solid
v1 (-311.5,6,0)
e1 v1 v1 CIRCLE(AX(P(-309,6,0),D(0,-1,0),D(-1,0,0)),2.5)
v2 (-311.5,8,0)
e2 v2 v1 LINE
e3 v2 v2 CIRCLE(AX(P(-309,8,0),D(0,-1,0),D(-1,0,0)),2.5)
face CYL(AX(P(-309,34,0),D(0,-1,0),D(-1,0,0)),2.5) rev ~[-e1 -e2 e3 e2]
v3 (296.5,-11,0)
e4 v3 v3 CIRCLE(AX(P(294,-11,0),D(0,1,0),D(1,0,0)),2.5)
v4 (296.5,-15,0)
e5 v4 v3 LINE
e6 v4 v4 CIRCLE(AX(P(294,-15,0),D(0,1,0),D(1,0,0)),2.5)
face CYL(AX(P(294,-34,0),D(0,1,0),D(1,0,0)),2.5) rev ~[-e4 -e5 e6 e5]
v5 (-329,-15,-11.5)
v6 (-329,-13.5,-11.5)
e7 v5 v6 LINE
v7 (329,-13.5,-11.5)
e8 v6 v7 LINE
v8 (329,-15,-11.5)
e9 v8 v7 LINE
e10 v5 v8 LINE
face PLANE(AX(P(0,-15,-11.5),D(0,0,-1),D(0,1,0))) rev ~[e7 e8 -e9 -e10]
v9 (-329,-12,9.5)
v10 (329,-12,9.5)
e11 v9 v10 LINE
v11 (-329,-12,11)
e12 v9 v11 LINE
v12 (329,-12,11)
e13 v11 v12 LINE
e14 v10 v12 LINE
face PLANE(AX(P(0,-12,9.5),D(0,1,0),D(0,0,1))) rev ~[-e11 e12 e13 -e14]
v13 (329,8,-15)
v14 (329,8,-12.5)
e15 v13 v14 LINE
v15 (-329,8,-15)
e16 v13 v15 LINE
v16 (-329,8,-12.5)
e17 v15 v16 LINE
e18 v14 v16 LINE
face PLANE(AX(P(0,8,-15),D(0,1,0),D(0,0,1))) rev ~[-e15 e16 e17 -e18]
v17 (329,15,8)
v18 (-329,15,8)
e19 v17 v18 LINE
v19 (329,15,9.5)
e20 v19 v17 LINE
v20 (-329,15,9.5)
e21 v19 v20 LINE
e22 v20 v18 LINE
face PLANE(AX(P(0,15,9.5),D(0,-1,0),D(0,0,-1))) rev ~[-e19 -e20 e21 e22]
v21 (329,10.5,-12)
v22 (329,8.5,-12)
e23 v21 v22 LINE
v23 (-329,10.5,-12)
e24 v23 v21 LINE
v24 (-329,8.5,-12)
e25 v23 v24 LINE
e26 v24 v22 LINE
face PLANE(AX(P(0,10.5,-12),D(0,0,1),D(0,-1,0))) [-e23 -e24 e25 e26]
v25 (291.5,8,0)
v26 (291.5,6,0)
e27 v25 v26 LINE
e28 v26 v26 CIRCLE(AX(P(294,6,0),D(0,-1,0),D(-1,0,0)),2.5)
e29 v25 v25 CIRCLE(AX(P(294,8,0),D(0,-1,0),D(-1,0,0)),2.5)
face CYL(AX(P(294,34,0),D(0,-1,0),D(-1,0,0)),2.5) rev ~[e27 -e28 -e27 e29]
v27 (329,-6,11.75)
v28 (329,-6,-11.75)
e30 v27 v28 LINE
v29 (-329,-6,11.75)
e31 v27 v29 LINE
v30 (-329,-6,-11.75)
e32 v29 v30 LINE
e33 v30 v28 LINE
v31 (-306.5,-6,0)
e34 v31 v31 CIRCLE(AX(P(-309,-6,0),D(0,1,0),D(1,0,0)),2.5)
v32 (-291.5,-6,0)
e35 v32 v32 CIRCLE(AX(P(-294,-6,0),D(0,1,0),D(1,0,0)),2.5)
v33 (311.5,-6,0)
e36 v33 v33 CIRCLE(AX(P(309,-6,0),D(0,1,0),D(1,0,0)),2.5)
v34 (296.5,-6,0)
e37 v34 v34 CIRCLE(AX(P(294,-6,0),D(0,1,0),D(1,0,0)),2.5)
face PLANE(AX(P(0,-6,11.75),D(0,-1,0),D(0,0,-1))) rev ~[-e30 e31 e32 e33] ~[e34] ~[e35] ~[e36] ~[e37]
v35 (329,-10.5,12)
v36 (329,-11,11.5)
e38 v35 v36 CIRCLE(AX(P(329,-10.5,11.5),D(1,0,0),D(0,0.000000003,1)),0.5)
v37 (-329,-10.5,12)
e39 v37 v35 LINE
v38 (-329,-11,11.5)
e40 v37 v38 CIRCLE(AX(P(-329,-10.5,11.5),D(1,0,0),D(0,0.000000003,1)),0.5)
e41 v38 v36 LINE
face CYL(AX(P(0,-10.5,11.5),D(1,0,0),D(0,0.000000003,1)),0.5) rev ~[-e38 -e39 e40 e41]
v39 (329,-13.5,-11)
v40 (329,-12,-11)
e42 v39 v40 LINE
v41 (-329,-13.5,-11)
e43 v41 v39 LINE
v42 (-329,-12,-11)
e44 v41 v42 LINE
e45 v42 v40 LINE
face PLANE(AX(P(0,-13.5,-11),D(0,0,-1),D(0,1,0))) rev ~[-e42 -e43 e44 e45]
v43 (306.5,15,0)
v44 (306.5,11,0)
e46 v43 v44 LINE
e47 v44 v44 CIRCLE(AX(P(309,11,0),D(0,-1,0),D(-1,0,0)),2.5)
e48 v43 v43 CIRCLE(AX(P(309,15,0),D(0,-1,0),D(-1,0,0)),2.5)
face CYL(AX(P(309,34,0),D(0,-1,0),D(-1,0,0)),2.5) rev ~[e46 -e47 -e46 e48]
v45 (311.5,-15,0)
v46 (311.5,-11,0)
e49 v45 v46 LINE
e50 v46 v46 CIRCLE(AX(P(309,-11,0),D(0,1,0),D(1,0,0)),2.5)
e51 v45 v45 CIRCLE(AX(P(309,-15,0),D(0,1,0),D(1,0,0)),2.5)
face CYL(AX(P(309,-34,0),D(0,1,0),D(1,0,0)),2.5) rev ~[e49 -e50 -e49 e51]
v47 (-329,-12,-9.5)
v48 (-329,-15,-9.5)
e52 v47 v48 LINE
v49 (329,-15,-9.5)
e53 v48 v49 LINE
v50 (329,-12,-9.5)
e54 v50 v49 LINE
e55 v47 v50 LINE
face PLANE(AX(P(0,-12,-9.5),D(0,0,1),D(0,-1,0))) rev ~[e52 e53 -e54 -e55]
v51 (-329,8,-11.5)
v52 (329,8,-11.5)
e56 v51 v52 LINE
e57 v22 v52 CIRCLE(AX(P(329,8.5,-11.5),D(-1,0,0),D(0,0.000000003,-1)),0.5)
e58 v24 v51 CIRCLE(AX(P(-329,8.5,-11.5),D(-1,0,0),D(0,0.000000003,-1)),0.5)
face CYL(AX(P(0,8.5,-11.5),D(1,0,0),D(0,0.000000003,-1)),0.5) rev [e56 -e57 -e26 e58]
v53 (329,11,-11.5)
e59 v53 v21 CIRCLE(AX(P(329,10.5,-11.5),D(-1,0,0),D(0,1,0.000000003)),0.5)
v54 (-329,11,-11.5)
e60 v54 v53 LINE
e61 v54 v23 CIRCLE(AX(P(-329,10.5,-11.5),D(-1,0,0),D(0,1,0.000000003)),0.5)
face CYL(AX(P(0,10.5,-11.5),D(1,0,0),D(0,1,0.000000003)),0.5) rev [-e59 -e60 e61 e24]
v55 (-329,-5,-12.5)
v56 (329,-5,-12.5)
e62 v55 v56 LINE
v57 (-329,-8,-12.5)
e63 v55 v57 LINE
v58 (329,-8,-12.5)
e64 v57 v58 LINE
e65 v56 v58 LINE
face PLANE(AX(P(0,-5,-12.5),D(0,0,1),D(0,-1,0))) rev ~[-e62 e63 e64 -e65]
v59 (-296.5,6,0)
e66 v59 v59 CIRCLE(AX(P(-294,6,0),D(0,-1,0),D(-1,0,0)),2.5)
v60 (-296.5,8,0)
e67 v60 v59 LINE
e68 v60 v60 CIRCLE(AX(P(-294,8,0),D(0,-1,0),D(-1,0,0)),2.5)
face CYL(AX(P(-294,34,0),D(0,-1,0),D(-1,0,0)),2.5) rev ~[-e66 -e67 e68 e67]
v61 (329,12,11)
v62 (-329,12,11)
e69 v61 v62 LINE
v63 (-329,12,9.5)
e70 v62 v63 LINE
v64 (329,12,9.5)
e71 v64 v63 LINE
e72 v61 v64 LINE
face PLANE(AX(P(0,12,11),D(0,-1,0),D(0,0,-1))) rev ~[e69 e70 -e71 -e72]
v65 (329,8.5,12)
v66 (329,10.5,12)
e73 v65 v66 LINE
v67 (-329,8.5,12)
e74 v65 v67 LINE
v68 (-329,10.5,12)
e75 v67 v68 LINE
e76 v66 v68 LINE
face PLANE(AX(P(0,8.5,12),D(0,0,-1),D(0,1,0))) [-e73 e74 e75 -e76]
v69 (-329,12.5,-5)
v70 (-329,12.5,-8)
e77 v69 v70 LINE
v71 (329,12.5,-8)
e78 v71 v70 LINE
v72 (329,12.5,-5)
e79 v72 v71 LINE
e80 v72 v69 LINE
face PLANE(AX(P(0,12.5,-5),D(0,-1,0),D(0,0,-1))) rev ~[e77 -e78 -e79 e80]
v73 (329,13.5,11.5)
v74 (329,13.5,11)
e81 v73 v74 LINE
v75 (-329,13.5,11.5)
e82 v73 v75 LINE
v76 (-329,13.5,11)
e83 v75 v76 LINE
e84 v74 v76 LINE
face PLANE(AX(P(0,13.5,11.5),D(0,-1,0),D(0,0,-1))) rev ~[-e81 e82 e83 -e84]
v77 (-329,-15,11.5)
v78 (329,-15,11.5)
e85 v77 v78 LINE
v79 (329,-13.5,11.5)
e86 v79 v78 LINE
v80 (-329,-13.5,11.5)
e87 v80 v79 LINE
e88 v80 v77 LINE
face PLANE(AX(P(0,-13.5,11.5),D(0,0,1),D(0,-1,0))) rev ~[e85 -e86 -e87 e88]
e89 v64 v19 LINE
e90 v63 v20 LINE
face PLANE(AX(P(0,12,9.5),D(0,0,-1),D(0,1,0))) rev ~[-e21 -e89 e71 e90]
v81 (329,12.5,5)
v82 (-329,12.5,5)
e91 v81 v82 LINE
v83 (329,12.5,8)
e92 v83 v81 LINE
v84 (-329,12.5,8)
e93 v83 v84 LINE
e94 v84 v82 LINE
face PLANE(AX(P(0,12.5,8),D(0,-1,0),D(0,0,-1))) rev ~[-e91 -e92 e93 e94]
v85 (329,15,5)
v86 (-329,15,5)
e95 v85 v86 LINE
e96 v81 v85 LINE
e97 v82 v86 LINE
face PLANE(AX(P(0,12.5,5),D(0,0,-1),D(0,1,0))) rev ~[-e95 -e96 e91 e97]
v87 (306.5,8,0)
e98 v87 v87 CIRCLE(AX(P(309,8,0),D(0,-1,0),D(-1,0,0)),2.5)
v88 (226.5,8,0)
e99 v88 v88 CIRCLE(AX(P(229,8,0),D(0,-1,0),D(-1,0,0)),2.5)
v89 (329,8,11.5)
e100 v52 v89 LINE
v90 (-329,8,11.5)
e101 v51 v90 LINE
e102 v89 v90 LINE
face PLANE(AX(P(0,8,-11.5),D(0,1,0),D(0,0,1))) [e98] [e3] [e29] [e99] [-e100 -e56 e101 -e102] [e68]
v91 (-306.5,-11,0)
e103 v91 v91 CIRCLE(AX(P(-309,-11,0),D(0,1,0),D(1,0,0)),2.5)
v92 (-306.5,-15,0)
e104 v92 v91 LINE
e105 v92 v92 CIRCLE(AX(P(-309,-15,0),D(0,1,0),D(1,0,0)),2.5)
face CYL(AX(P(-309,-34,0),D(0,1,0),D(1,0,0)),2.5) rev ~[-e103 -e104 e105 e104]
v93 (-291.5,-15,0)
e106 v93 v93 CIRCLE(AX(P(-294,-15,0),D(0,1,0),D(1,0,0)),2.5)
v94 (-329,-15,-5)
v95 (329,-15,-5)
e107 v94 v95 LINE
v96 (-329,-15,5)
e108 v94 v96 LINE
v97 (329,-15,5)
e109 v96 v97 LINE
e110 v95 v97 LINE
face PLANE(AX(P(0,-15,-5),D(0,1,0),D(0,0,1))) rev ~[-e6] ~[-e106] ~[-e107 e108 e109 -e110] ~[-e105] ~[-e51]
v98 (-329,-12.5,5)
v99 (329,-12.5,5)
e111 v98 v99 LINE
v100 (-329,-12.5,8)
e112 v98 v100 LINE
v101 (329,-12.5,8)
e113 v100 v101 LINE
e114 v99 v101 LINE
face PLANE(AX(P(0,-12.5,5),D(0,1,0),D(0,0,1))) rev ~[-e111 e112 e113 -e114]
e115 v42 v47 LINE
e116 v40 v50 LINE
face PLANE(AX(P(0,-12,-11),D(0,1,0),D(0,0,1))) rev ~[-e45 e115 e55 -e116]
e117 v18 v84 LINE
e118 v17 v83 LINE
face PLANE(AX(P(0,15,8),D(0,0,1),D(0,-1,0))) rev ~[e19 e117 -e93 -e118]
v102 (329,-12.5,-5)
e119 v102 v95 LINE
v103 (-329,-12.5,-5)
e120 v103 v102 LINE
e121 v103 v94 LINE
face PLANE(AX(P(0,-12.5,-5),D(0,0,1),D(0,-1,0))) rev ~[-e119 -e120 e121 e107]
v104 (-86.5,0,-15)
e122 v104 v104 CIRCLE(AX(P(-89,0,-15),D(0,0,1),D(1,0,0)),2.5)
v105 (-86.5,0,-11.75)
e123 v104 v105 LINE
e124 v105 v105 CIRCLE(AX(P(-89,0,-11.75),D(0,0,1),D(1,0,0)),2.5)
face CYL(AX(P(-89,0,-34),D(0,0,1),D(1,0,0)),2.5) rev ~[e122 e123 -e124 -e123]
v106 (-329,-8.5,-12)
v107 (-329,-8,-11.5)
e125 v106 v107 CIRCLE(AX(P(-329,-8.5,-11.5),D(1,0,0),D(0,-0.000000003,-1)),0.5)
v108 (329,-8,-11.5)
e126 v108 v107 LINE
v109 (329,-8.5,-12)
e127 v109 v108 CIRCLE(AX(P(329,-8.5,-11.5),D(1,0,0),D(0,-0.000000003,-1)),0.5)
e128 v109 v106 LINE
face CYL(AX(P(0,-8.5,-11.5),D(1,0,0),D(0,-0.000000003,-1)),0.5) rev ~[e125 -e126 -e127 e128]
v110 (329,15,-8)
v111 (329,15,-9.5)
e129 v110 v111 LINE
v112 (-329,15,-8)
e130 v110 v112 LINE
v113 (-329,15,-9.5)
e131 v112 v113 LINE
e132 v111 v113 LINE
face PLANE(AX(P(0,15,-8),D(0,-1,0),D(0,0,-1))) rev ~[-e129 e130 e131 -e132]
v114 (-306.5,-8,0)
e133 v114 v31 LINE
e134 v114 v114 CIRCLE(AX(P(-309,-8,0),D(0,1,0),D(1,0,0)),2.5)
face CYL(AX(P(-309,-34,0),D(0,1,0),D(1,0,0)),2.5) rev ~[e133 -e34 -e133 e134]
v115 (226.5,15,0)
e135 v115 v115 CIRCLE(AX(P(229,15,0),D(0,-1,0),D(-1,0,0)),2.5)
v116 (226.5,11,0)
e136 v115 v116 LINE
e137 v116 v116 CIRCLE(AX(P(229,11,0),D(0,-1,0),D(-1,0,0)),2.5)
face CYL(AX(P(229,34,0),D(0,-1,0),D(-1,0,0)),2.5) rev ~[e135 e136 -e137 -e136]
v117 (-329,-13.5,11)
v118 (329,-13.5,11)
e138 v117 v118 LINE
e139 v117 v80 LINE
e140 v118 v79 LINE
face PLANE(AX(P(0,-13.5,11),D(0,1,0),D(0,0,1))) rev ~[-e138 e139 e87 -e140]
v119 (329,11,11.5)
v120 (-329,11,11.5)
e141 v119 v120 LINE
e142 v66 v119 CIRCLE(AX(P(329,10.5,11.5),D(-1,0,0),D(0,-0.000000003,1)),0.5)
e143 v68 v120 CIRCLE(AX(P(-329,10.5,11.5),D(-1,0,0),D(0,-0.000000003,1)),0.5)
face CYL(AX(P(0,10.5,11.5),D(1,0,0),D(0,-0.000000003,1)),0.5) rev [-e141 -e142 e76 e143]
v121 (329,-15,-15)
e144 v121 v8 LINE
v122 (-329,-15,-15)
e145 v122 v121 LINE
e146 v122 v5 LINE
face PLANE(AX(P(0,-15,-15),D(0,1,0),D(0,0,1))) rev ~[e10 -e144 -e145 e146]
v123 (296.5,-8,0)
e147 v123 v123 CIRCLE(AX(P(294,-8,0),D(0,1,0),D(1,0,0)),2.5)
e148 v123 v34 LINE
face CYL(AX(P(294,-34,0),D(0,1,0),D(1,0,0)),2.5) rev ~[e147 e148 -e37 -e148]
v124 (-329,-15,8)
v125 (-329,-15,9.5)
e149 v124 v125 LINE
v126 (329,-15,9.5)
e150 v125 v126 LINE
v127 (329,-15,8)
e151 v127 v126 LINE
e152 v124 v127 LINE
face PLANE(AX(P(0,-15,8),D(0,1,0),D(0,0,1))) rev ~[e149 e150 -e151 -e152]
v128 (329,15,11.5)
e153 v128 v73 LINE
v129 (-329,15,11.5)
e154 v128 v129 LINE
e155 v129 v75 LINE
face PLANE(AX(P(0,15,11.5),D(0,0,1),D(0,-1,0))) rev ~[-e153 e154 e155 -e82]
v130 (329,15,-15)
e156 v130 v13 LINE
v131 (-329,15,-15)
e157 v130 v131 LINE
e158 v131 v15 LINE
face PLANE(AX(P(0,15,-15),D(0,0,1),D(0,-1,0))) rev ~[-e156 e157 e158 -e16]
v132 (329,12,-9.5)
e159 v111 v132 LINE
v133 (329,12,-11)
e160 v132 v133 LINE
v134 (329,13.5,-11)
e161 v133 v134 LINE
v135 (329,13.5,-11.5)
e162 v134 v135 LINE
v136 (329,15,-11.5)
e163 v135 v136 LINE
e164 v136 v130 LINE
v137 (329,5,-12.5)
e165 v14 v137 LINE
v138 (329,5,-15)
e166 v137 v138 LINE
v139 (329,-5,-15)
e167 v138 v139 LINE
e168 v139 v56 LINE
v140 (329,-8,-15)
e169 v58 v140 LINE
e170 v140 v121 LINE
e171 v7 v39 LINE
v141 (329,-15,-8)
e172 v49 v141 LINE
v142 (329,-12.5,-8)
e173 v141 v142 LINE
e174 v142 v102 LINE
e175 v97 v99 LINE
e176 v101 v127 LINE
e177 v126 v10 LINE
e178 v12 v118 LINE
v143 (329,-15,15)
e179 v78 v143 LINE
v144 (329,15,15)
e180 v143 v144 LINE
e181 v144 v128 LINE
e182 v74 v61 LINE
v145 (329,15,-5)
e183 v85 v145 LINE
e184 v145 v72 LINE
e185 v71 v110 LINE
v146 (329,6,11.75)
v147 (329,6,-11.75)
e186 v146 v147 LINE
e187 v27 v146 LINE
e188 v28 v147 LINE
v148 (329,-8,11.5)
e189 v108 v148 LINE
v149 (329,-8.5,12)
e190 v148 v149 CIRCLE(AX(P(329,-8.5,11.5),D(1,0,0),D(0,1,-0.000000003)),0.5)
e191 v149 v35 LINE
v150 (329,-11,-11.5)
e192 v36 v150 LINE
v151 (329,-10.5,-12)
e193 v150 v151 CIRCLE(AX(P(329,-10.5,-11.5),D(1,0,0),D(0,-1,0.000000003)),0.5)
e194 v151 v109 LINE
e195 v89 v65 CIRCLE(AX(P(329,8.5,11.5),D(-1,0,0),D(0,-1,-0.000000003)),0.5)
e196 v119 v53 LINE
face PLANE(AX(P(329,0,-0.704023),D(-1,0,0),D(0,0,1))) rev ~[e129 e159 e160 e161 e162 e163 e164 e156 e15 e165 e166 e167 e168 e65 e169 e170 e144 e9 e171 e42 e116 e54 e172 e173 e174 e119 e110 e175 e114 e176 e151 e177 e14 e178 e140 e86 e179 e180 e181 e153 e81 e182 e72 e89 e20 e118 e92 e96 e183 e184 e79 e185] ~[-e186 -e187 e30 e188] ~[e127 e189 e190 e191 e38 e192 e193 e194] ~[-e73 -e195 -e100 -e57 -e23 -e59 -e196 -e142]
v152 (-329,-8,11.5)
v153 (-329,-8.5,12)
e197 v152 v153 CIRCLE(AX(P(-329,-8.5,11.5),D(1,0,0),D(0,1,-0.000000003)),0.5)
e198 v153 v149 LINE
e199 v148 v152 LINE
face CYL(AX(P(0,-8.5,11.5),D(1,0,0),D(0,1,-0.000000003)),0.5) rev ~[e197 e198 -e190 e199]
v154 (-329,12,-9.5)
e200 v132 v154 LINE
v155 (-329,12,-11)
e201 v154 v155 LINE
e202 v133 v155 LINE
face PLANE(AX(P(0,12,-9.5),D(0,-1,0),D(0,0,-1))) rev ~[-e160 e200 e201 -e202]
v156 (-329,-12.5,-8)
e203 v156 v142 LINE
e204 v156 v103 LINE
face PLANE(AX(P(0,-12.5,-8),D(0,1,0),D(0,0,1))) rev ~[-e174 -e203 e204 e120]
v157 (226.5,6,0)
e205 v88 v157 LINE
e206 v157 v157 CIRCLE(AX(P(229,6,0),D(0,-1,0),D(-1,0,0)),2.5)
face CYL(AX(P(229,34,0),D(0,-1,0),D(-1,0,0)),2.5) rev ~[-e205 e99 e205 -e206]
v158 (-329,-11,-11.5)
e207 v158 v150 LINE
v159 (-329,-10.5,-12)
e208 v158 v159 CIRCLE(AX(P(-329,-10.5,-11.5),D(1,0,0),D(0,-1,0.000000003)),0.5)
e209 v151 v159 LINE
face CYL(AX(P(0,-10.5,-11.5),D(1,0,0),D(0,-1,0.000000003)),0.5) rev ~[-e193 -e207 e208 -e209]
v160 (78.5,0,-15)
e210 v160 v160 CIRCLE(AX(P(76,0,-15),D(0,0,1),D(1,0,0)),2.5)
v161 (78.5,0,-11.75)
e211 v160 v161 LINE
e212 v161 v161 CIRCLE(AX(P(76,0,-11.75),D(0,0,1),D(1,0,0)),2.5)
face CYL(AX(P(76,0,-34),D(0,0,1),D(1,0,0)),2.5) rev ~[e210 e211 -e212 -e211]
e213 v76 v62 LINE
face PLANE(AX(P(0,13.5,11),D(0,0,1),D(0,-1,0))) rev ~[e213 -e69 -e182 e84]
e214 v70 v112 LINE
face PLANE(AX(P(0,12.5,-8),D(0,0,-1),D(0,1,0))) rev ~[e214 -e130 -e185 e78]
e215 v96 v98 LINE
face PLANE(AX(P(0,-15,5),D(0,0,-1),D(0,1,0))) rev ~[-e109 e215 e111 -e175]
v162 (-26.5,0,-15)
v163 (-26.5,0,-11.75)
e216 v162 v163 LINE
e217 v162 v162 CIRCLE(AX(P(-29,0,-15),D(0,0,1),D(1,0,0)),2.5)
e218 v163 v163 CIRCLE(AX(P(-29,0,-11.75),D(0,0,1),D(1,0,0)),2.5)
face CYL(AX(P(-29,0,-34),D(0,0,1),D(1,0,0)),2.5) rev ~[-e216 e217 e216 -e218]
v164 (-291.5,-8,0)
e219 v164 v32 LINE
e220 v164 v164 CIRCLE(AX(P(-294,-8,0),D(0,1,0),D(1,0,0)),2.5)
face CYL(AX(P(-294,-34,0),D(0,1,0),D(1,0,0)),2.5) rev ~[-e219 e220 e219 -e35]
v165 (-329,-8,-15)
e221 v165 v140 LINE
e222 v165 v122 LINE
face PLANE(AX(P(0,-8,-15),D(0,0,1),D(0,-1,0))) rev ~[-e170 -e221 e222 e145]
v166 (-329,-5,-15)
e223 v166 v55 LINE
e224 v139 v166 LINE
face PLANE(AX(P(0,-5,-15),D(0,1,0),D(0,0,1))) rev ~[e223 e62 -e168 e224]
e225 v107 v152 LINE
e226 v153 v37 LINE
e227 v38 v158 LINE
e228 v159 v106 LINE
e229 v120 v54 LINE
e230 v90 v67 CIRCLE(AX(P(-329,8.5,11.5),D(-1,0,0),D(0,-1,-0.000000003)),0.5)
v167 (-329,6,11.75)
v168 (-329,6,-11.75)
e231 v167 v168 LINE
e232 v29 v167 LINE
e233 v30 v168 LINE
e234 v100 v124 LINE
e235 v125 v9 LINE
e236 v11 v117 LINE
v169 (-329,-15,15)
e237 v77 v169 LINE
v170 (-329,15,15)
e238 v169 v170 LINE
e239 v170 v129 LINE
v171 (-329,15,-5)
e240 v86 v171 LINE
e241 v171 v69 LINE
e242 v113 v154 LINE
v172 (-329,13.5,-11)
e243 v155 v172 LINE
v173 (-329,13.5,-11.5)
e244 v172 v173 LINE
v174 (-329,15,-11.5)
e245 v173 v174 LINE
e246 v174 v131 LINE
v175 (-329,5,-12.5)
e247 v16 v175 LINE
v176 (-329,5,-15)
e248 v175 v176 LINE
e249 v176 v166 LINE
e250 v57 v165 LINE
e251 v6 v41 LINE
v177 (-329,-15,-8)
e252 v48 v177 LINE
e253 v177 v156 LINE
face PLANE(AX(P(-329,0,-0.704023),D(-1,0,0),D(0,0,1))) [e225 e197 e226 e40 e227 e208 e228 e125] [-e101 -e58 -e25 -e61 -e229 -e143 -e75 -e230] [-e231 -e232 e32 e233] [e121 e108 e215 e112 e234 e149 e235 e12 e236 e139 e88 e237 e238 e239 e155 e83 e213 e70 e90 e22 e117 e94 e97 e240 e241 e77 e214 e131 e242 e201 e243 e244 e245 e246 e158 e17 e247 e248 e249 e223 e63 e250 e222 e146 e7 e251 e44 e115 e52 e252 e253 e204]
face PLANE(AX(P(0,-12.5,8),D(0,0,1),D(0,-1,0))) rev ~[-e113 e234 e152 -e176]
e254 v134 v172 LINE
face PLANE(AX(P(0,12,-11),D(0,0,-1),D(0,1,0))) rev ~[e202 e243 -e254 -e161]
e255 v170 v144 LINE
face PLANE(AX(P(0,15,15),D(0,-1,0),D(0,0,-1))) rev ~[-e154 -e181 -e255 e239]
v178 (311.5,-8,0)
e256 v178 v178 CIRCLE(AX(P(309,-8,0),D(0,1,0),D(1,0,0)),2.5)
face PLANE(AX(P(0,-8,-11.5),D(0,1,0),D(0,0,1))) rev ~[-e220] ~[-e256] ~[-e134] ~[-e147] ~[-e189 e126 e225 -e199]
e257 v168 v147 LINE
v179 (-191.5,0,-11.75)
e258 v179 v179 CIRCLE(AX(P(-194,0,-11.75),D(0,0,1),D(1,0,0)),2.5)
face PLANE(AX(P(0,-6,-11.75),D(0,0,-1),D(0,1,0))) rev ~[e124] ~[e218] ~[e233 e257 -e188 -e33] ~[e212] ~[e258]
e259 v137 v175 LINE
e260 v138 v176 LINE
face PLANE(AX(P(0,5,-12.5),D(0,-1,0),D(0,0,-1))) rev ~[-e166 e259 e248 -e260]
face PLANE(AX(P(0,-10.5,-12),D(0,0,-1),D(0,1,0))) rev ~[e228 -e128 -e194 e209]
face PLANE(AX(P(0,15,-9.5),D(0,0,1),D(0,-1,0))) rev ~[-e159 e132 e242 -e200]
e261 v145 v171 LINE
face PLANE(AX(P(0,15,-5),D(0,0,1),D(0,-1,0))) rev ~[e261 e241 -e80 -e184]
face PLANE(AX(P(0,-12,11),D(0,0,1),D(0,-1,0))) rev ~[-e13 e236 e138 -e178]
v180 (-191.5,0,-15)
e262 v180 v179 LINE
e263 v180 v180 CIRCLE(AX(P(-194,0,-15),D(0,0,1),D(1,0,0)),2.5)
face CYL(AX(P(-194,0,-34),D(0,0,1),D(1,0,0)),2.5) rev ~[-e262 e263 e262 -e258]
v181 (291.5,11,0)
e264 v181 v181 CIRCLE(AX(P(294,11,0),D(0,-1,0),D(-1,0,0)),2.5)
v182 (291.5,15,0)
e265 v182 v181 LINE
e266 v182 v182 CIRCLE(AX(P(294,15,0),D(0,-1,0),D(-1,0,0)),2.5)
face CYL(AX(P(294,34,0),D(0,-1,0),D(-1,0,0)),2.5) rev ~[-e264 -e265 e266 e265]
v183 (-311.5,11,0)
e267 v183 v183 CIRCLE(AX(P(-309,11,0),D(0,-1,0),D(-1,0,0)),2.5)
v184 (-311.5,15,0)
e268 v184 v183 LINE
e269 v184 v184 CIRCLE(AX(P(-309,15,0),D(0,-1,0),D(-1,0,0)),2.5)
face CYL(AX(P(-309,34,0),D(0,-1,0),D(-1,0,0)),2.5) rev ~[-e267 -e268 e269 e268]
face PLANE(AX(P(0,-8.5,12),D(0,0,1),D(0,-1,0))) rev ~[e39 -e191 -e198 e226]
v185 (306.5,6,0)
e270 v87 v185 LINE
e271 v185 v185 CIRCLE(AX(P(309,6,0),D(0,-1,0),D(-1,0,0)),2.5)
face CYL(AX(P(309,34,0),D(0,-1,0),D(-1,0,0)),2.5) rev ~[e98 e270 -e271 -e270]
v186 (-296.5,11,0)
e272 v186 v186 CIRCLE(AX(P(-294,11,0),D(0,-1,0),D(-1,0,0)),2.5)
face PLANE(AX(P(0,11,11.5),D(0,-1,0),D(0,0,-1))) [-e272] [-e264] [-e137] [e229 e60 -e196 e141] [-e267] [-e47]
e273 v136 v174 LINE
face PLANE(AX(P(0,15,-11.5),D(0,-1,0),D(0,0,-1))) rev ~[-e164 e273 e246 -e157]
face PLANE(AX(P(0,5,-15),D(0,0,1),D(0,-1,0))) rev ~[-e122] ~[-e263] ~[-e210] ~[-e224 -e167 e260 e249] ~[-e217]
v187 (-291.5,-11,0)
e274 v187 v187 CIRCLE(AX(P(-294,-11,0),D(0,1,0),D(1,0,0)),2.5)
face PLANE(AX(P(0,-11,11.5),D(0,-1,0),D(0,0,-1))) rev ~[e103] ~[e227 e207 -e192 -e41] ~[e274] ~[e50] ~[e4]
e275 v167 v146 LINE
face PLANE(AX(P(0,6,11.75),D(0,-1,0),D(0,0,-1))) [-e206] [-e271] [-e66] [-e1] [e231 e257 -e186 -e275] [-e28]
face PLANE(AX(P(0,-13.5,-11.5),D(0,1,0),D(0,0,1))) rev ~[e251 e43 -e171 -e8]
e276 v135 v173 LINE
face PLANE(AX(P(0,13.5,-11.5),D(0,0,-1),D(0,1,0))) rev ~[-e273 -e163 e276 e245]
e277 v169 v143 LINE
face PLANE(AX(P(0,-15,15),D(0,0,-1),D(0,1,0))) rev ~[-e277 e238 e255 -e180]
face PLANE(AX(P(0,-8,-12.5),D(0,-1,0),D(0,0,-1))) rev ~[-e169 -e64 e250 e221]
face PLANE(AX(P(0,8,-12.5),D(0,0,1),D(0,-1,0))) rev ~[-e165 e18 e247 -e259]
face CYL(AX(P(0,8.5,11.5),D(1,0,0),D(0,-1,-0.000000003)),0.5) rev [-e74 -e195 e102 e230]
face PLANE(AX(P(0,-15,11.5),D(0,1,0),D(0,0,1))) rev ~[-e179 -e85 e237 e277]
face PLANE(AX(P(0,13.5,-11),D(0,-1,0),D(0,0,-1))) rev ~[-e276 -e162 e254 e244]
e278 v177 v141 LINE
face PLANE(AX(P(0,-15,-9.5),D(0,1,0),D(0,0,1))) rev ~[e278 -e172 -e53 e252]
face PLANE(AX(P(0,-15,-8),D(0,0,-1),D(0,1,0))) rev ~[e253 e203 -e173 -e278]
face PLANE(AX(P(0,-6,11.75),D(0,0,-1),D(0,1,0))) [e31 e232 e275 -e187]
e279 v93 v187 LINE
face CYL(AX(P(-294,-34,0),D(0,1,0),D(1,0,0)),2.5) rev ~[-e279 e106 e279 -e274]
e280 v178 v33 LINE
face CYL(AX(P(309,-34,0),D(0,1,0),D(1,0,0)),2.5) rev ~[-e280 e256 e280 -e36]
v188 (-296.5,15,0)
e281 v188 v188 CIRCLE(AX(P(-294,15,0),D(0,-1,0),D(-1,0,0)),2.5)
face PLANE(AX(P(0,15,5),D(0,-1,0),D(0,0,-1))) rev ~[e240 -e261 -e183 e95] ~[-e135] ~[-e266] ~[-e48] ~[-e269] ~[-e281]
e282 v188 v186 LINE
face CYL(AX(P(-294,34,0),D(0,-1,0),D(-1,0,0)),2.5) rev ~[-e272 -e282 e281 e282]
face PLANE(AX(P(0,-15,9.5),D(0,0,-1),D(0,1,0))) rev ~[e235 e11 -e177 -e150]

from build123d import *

# Parameters (mm, degrees)
SKETCH_1_W             = 23.5
SKETCH_1_H             = 12
EXTRUDE_1_DEPTH        = 329
HOLE_WIZARD_M6_1_D     = 5
HOLE_WIZARD_M6_1_DEPTH = 19
HOLE_WIZARD_M6_1_TIP   = 1.502151548
HOLE_WIZARD_M6_2_D     = 5
HOLE_WIZARD_M6_2_DEPTH = 19
HOLE_WIZARD_M6_2_TIP   = 1.502151548
HOLE_WIZARD_M6_3_D     = 5
HOLE_WIZARD_M6_3_DEPTH = 19
HOLE_WIZARD_M6_3_TIP   = 1.502151548


with BuildPart() as part:
    # 草图1 → 凸台-拉伸1 (new, symmetric)
    with BuildSketch(Plane(origin=(0, 0, 0), x_dir=(0, 0, -1), z_dir=(1, 0, 0))):
        Polygon((-15, 15), (-11.5, 15), (-11.5, 13.5), (-11, 13.5), (-11, 12), (-9.5, 12), (-9.5, 15), (-8, 15), (-8, 12.5), (-5, 12.5), (-5, 15), (5, 15), (5, 12.5), (8, 12.5), (8, 15), (9.5, 15), (9.5, 12), (11, 12), (11, 13.5), (11.5, 13.5), (11.5, 15), (15, 15), (15, 8), (12.5, 8), (12.5, 5), (15, 5), (15, -5), (12.5, -5), (12.5, -8), (15, -8), (15, -15), (11.5, -15), (11.5, -13.5), (11, -13.5), (11, -12), (9.5, -12), (9.5, -15), (8, -15), (8, -12.5), (5, -12.5), (5, -15), (-5, -15), (-5, -12.5), (-8, -12.5), (-8, -15), (-9.5, -15), (-9.5, -12), (-11, -12), (-11, -13.5), (-11.5, -13.5), (-11.5, -15), (-15, -15), align=None)
        with BuildLine():
            Line((12, -10.5), (12, -8.5))
            ThreePointArc((12, -8.5), (11.853553391, -8.146446609), (11.5, -8))
            Line((11.5, -8), (-11.5, -8))
            ThreePointArc((-11.5, -8), (-11.853553391, -8.146446609), (-12, -8.5))
            Line((-12, -8.5), (-12, -10.5))
            ThreePointArc((-12, -10.5), (-11.853553391, -10.853553391), (-11.5, -11))
            Line((-11.5, -11), (11.5, -11))
            ThreePointArc((11.5, -11), (11.853553391, -10.853553391), (12, -10.5))
        make_face(mode=Mode.SUBTRACT)
        with BuildLine():
            Line((-11.5, 11), (11.5, 11))
            ThreePointArc((11.5, 11), (11.853553391, 10.853553391), (12, 10.5))
            Line((12, 10.5), (12, 8.5))
            ThreePointArc((12, 8.5), (11.853553391, 8.146446609), (11.5, 8))
            Line((11.5, 8), (-11.5, 8))
            ThreePointArc((-11.5, 8), (-11.853553391, 8.146446609), (-12, 8.5))
            Line((-12, 8.5), (-12, 10.5))
            ThreePointArc((-12, 10.5), (-11.853553391, 10.853553391), (-11.5, 11))
        make_face(mode=Mode.SUBTRACT)
        Rectangle(SKETCH_1_W, SKETCH_1_H, mode=Mode.SUBTRACT)
    extrude(amount=EXTRUDE_1_DEPTH, both=True)

    # M6 螺纹孔1
    with Locations(Plane(origin=(0, 15, 0), x_dir=(1, 0, 0), z_dir=(0, 1, 0))):
        with Locations((-309, 0), (-294, 0), (294, 0), (309, 0), (229, 0)):
            Hole(HOLE_WIZARD_M6_1_D / 2, depth=HOLE_WIZARD_M6_1_DEPTH)
            with Locations((0, 0, -(HOLE_WIZARD_M6_1_DEPTH + HOLE_WIZARD_M6_1_TIP / 2))):  # 118° drill point
                Cone(0, HOLE_WIZARD_M6_1_D / 2, HOLE_WIZARD_M6_1_TIP, mode=Mode.SUBTRACT)

    # M6 螺纹孔2
    with Locations(Plane(origin=(0, -15, 0), x_dir=(-1, 0, 0), z_dir=(0, -1, 0))):
        with Locations((-309, 0), (-294, 0), (309, 0), (294, 0)):
            Hole(HOLE_WIZARD_M6_2_D / 2, depth=HOLE_WIZARD_M6_2_DEPTH)
            with Locations((0, 0, -(HOLE_WIZARD_M6_2_DEPTH + HOLE_WIZARD_M6_2_TIP / 2))):  # 118° drill point
                Cone(0, HOLE_WIZARD_M6_2_D / 2, HOLE_WIZARD_M6_2_TIP, mode=Mode.SUBTRACT)

    # M6 螺纹孔3
    with Locations(Plane(origin=(0, 0, -15), x_dir=(-1, 0, 0), z_dir=(0, 0, -1))):
        with Locations((194, 0), (89, 0), (29, 0), (-76, 0)):
            Hole(HOLE_WIZARD_M6_3_D / 2, depth=HOLE_WIZARD_M6_3_DEPTH)
            with Locations((0, 0, -(HOLE_WIZARD_M6_3_DEPTH + HOLE_WIZARD_M6_3_TIP / 2))):  # 118° drill point
                Cone(0, HOLE_WIZARD_M6_3_D / 2, HOLE_WIZARD_M6_3_TIP, mode=Mode.SUBTRACT)


solid = part.part
